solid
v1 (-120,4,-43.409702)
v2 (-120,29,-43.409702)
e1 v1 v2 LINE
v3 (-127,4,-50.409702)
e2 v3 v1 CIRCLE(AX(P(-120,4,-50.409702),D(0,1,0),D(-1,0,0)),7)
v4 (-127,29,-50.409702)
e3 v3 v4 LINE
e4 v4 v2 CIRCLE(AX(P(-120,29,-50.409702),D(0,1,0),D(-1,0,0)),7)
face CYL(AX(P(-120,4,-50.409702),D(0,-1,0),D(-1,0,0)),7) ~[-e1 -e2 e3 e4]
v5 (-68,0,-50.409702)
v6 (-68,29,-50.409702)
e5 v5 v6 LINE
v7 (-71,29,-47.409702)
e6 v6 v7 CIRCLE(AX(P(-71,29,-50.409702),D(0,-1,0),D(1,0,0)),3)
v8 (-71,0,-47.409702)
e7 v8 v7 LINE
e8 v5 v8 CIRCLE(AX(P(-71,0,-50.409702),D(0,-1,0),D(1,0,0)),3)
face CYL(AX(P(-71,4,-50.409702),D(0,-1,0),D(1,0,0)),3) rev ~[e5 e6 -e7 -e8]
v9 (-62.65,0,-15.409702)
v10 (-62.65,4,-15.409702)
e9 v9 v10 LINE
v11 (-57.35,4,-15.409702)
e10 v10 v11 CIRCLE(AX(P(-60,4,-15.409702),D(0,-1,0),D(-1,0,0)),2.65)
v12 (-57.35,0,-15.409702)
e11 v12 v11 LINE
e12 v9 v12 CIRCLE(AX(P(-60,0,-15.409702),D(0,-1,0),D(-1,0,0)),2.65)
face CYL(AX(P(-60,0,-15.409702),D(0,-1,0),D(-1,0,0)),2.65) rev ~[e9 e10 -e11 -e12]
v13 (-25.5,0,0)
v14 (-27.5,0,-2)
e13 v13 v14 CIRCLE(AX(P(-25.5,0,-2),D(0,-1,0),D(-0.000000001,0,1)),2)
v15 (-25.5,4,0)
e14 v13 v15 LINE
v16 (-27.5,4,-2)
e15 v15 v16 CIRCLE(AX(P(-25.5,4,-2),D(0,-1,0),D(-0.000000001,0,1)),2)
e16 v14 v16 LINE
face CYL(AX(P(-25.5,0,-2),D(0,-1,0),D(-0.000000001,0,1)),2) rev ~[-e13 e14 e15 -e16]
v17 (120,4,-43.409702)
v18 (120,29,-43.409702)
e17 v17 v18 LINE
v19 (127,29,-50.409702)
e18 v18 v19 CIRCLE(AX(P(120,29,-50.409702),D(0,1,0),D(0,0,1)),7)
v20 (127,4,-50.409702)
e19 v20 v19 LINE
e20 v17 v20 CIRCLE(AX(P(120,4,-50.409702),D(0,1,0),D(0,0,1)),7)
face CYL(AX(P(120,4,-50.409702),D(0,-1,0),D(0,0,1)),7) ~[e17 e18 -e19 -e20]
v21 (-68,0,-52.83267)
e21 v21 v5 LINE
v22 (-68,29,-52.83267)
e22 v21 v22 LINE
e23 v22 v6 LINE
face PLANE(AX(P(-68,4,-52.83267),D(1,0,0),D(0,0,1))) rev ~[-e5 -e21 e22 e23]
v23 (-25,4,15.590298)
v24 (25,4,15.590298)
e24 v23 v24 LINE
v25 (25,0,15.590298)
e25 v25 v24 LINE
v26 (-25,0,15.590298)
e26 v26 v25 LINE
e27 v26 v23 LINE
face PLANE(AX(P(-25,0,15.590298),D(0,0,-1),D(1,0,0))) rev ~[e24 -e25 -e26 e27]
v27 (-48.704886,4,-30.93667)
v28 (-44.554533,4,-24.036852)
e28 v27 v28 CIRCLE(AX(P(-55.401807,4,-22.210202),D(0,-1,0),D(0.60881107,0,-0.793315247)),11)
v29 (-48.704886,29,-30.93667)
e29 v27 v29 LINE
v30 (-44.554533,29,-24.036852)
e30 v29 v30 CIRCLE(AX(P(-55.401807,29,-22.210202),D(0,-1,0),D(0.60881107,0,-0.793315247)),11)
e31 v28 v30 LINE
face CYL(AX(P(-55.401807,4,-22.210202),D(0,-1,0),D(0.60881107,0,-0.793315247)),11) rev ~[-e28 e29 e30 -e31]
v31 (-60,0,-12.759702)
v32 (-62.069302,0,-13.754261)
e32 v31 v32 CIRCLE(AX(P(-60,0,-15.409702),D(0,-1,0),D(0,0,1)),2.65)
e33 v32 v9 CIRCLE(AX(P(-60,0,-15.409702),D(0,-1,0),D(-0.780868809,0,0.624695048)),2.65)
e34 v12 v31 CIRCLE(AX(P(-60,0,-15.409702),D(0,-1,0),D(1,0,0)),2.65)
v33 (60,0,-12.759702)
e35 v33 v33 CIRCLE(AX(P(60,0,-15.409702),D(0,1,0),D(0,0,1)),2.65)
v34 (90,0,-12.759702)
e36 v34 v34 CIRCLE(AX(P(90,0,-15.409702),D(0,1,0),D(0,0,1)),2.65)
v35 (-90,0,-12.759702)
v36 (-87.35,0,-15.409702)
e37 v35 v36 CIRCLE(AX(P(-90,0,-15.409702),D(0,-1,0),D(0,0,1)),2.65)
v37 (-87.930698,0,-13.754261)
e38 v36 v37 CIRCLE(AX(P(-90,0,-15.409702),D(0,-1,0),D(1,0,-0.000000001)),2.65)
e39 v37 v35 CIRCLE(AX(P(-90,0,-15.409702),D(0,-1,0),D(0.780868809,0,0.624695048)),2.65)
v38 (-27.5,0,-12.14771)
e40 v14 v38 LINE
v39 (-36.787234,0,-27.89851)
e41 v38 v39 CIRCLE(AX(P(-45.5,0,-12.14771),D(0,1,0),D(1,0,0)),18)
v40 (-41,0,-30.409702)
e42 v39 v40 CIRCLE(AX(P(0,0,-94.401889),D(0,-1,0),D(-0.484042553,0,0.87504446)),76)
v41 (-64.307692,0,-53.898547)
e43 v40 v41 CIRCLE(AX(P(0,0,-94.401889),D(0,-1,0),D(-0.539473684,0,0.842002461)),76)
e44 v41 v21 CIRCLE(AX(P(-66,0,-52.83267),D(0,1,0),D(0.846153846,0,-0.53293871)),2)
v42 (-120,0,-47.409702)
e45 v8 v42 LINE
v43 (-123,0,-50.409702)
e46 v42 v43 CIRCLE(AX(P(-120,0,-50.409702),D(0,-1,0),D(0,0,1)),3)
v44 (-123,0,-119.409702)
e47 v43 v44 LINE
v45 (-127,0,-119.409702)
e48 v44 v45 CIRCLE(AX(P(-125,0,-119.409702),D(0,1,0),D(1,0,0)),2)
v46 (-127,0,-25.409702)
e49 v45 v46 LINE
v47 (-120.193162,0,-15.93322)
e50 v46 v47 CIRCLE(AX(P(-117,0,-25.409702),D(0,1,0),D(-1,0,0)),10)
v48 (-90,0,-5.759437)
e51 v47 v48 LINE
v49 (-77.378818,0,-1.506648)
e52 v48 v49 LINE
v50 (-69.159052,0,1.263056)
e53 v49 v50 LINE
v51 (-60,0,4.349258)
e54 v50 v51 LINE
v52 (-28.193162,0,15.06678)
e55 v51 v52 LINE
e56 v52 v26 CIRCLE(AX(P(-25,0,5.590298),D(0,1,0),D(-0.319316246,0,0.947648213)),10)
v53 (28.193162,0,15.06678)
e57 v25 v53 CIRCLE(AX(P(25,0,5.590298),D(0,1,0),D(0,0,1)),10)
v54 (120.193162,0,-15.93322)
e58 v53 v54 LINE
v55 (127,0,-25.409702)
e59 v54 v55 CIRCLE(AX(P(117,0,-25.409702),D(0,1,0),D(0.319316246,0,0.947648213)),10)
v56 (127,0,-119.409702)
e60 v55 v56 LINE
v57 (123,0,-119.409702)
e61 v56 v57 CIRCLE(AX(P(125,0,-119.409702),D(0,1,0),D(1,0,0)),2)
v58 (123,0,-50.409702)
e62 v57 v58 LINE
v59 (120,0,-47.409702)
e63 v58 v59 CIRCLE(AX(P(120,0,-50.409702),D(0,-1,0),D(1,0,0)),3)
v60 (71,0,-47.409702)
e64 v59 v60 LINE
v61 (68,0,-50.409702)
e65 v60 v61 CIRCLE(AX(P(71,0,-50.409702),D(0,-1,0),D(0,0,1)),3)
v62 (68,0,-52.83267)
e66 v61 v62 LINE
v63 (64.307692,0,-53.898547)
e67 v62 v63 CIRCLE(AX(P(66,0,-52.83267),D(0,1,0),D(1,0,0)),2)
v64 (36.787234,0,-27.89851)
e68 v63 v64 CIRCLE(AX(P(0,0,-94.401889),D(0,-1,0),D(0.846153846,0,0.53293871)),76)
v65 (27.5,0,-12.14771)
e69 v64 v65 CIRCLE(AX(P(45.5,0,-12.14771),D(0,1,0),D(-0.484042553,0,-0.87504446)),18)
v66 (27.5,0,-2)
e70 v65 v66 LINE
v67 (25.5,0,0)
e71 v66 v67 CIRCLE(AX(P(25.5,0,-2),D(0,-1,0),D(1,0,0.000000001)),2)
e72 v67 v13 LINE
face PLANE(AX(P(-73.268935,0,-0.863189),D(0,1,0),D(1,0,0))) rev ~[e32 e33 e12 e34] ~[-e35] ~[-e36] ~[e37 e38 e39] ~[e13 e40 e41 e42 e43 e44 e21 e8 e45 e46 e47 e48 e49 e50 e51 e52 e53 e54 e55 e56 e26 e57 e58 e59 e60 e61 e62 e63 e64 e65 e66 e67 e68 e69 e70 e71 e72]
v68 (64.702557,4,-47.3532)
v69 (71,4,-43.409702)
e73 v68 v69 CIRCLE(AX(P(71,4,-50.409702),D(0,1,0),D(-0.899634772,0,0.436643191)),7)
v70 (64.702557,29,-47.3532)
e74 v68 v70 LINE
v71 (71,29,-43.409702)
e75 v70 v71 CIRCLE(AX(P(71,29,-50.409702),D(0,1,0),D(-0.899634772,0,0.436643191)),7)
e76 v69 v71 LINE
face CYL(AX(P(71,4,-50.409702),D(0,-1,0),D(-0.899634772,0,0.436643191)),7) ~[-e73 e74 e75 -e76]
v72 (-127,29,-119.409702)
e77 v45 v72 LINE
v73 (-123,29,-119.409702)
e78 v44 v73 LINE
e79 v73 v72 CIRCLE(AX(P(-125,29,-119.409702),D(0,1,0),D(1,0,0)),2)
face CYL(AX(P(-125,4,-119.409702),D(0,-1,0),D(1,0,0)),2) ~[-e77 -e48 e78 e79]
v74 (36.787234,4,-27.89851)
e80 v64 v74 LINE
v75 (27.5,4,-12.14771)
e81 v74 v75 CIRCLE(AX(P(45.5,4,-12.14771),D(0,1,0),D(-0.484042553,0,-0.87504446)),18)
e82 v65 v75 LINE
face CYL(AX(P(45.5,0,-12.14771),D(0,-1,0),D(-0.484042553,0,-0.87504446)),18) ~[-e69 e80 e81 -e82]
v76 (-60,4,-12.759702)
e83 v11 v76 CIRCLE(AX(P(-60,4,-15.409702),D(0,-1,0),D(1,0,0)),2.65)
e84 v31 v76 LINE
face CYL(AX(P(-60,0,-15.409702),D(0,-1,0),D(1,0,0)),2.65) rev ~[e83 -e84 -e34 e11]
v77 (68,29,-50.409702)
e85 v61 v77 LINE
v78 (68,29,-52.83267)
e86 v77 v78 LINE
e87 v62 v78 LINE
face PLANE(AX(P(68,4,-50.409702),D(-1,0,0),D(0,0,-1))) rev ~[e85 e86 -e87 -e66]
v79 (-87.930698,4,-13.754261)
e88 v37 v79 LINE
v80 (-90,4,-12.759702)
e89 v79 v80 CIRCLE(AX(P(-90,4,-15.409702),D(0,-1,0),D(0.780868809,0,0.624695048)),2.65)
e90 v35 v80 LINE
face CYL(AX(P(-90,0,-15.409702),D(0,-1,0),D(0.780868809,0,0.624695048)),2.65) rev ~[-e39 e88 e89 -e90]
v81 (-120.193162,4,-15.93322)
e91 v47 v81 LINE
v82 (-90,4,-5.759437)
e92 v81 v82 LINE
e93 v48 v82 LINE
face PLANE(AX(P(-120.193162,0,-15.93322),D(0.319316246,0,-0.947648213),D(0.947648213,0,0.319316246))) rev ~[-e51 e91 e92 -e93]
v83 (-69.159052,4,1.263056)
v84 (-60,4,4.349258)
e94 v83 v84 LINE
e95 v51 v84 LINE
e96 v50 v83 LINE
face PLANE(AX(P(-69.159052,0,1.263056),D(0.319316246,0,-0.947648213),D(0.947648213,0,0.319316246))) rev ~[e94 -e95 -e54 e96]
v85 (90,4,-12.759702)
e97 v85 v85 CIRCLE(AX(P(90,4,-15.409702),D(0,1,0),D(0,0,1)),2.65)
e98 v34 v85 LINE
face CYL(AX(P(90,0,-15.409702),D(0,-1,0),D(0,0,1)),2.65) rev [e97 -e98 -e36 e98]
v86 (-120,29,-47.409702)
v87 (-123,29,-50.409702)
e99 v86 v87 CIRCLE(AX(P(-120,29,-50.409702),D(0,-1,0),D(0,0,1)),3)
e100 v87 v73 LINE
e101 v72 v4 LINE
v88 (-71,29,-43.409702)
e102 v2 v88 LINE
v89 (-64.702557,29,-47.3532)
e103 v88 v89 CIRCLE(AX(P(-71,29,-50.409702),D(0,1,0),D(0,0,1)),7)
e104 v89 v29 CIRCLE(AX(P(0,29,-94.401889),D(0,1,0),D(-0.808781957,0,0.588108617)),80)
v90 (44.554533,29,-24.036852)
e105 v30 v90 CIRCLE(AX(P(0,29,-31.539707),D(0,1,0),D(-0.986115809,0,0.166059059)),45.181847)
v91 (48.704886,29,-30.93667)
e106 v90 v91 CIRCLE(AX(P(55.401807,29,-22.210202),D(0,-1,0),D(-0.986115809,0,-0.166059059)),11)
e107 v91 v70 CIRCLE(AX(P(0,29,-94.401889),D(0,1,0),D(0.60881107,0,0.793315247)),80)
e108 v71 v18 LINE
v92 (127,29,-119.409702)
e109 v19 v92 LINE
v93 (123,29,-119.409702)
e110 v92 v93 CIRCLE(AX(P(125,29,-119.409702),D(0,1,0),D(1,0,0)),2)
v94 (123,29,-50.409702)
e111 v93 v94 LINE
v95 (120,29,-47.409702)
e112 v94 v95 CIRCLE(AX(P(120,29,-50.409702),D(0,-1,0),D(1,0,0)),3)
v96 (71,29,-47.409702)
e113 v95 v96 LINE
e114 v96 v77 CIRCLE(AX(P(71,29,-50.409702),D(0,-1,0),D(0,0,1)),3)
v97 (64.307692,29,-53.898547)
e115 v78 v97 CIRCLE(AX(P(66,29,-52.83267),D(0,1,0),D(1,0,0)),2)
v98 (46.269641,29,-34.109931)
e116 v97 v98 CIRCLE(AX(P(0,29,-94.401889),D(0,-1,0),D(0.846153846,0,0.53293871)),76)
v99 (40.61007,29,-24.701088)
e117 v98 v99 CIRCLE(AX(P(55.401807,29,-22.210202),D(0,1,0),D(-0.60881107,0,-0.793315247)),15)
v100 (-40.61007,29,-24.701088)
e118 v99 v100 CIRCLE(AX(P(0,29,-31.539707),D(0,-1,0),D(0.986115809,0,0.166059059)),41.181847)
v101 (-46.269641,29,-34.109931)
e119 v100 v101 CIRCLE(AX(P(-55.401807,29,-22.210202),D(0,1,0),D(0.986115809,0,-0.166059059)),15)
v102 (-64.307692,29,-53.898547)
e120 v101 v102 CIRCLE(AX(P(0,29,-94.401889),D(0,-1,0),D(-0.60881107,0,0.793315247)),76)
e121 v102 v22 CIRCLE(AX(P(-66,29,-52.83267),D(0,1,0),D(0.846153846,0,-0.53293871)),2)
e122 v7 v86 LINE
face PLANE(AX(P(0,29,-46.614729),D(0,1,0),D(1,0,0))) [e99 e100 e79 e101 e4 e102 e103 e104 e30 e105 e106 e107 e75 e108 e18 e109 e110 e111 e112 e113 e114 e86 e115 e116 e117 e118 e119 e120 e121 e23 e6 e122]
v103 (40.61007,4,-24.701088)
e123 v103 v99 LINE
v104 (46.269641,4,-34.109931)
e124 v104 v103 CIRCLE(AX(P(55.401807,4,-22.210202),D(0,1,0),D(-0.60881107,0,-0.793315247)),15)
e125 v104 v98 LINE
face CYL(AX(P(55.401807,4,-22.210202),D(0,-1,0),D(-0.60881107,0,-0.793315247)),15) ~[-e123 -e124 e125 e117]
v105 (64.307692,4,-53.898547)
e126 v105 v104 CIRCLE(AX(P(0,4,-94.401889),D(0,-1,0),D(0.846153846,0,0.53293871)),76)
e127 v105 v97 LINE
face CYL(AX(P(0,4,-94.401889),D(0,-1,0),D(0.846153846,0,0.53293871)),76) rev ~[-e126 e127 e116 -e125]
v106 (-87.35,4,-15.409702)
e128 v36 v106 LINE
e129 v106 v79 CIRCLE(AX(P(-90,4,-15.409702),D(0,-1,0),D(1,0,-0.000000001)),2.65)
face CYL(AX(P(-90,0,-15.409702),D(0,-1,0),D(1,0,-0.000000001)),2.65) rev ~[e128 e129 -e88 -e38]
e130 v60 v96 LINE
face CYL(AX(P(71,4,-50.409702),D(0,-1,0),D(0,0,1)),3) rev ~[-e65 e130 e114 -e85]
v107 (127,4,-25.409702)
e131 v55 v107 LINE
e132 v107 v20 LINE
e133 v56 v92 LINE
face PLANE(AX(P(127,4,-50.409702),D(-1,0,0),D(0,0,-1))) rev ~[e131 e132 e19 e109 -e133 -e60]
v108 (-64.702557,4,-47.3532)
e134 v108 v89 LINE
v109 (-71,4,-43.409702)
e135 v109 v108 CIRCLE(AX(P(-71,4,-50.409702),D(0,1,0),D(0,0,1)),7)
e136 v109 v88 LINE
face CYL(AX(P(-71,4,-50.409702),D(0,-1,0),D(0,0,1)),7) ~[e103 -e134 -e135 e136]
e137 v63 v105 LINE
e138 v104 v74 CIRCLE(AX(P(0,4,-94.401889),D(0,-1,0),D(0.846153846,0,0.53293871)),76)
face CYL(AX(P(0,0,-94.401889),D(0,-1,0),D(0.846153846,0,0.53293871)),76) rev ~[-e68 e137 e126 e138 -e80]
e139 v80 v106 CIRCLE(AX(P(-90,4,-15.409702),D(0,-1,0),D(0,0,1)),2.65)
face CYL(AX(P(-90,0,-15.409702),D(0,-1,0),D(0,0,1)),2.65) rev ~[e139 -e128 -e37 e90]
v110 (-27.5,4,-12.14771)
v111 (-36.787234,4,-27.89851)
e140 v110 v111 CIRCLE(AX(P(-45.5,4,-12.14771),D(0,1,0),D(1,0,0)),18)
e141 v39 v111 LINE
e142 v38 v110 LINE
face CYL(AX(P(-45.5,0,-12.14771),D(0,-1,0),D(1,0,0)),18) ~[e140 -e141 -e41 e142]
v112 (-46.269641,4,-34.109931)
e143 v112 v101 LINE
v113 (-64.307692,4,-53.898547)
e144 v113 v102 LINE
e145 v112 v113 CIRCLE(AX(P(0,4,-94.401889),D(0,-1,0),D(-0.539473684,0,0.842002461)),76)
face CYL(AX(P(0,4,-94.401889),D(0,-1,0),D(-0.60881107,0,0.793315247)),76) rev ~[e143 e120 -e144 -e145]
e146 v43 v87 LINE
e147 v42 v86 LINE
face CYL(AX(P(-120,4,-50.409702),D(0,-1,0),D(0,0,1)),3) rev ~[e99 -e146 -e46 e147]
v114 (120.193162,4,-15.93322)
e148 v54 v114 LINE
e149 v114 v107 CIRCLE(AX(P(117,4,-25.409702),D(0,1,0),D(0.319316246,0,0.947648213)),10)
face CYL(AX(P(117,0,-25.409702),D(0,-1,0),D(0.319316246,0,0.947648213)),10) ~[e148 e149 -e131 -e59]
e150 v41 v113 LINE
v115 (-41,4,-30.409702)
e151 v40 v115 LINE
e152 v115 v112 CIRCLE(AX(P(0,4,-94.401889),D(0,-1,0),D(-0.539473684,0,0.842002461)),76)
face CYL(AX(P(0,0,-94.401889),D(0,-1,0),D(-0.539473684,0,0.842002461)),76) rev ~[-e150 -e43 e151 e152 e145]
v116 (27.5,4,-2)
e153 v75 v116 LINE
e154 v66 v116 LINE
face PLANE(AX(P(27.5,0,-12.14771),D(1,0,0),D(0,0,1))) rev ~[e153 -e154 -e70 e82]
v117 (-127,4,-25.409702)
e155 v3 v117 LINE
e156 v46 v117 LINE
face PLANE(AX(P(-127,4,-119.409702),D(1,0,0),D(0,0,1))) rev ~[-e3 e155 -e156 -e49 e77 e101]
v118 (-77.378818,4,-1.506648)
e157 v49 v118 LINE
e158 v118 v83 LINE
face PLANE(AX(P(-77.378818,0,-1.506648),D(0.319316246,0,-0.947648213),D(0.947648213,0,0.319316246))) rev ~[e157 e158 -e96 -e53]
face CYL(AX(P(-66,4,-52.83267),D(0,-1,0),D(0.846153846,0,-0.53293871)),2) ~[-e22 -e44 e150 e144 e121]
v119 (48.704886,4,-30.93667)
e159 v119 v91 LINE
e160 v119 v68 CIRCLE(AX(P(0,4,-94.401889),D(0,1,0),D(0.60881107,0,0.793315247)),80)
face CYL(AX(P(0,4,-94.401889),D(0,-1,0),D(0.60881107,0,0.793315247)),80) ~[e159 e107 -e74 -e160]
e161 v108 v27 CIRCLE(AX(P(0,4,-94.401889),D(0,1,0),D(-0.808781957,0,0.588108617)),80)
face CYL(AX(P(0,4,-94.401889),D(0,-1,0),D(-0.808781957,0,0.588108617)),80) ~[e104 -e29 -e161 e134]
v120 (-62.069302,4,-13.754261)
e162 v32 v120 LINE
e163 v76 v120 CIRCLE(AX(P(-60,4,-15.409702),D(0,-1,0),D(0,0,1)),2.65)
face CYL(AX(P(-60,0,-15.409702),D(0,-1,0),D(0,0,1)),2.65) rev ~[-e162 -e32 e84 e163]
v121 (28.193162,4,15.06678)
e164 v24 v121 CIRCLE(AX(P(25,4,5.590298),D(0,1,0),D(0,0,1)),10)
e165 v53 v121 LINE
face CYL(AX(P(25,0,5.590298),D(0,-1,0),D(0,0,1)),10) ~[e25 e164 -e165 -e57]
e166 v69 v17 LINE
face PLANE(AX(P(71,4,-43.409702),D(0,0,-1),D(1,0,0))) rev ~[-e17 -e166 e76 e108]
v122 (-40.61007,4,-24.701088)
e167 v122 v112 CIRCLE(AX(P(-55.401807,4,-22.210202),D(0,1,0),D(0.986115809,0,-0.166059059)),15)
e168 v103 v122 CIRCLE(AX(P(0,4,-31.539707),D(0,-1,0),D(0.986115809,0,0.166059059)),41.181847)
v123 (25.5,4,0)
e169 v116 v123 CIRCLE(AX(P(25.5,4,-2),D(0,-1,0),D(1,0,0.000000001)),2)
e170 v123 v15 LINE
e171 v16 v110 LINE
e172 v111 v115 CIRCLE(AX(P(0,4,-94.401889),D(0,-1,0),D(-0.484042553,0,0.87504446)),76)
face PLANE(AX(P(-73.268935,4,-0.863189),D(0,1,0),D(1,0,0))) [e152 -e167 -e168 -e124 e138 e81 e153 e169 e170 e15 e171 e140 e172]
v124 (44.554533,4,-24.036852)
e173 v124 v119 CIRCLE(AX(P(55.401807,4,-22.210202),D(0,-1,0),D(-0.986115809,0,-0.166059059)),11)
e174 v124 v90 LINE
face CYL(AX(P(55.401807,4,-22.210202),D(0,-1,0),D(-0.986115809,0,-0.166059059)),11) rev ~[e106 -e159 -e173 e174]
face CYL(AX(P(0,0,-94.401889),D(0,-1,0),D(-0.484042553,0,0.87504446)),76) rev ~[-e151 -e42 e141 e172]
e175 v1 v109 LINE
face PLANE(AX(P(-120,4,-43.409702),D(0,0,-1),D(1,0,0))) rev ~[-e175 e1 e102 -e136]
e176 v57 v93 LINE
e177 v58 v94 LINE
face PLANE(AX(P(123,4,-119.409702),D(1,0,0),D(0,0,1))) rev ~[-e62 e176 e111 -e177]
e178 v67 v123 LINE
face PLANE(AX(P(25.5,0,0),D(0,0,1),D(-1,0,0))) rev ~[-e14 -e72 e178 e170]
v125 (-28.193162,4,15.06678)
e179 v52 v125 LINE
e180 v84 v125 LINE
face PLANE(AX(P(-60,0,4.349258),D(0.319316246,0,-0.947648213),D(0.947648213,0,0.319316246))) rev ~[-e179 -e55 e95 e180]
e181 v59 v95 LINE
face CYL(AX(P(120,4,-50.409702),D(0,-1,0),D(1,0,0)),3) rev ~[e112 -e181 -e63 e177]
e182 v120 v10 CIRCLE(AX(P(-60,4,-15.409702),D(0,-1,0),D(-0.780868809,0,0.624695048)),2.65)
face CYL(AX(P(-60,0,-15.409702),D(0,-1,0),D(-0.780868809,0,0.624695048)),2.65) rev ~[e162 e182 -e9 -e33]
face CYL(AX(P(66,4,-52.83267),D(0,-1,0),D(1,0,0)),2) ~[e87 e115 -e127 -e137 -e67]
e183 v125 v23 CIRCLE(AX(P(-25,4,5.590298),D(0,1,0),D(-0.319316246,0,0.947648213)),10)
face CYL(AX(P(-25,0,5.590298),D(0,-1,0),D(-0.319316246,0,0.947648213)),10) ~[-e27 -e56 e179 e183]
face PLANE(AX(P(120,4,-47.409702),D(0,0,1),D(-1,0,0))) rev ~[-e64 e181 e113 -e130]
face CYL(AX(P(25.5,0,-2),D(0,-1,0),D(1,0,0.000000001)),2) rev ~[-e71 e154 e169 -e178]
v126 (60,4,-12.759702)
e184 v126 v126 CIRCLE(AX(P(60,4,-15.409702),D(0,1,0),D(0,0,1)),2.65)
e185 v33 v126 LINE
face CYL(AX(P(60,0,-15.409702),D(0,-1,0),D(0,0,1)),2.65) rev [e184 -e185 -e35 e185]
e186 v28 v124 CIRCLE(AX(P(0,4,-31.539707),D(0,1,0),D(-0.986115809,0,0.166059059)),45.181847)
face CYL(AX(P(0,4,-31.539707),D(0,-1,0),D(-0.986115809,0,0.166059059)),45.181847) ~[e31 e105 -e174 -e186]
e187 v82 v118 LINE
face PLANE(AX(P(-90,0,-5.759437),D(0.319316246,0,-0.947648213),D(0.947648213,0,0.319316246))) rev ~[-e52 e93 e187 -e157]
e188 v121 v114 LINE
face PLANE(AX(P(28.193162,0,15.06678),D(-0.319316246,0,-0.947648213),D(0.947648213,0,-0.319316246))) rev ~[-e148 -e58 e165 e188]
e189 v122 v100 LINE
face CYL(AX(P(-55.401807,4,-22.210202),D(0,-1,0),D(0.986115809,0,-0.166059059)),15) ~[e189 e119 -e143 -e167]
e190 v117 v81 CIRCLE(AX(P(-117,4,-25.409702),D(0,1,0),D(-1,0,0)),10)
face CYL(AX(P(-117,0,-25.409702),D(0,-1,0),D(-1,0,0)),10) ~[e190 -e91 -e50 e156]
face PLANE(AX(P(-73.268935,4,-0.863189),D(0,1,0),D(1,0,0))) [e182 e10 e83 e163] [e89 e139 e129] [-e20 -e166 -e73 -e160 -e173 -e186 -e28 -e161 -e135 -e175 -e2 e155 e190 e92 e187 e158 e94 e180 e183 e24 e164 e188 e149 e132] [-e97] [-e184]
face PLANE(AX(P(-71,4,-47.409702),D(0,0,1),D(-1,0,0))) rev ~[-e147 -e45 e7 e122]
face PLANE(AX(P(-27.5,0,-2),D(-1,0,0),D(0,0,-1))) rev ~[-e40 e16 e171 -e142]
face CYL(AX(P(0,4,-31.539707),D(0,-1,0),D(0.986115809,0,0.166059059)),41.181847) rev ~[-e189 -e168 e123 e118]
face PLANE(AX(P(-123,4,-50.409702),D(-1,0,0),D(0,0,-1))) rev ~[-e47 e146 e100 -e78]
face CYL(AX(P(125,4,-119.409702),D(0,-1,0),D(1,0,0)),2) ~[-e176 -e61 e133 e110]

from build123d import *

# Parameters (mm, degrees)
SKETCH_2_R      = 2.65
EXTRUDE_1_DEPTH = 4
EXTRUDE_2_DEPTH = 25


with BuildPart() as part:
    # 草图2 → 凸台-拉伸1 (new body)
    # profile 1 of 5: a face of its own
    with BuildSketch(Plane(origin=(0, 0, 0), x_dir=(1, 0, 0), z_dir=(0, 1, 0))):
        with BuildLine():
            Line((-27.5, 2), (-27.5, 12.147710197))
            ThreePointArc((-27.5, 12.147710197), (-29.994681763, 21.290199266), (-36.787234043, 27.898510474))
            ThreePointArc((-36.787234043, 27.898510474), (-38.913878838, 29.12011529), (-41, 30.409702399))
            ThreePointArc((-41, 30.409702399), (-53.947743005, 40.870206984), (-64.307692308, 53.898547461))
            ThreePointArc((-64.307692308, 53.898547461), (-66.554700196, 54.754207886), (-68, 52.832670041))
            Line((-68, 52.832670041), (-68, 50.409702399))
            ThreePointArc((-68, 50.409702399), (-68.878679656, 48.288382056), (-71, 47.409702399))
            Line((-71, 47.409702399), (-120, 47.409702399))
            ThreePointArc((-120, 47.409702399), (-122.121320344, 48.288382056), (-123, 50.409702399))
            Line((-123, 50.409702399), (-123, 119.409702399))
            ThreePointArc((-123, 119.409702399), (-125, 121.409702399), (-127, 119.409702399))
            Line((-127, 119.409702399), (-127, 25.409702399))
            ThreePointArc((-127, 25.409702399), (-125.121934023, 19.575819668), (-120.193162456, 15.933220271))
            Line((-120.193162456, 15.933220271), (-90, 5.759437269))
            Line((-90, 5.759437269), (-90, 12.759702399))
            ThreePointArc((-90, 12.759702399), (-91.87383297, 17.283535369), (-87.35, 15.409702399))
            Line((-87.35, 15.409702399), (-62.65, 15.409702399))
            ThreePointArc((-62.65, 15.409702399), (-60, 18.059702399), (-57.35, 15.409702399))
            ThreePointArc((-57.35, 15.409702399), (-58.12616703, 13.535869429), (-60, 12.759702399))
            Line((-60, 12.759702399), (-60, -4.349258383))
            Line((-60, -4.349258383), (-28.193162456, -15.066779729))
            ThreePointArc((-28.193162456, -15.066779729), (-26.617896585, -15.458550265), (-25, -15.590297601))
            Line((-25, -15.590297601), (25, -15.590297601))
            ThreePointArc((25, -15.590297601), (26.617896585, -15.458550265), (28.193162456, -15.066779729))
            Line((28.193162456, -15.066779729), (120.193162456, 15.933220271))
            ThreePointArc((120.193162456, 15.933220271), (125.121934023, 19.575819668), (127, 25.409702399))
            Line((127, 25.409702399), (127, 119.409702399))
            ThreePointArc((127, 119.409702399), (125, 121.409702399), (123, 119.409702399))
            Line((123, 119.409702399), (123, 50.409702399))
            ThreePointArc((123, 50.409702399), (122.121320344, 48.288382056), (120, 47.409702399))
            Line((120, 47.409702399), (71, 47.409702399))
            ThreePointArc((71, 47.409702399), (68.878679656, 48.288382056), (68, 50.409702399))
            Line((68, 50.409702399), (68, 52.832670041))
            ThreePointArc((68, 52.832670041), (66.554700196, 54.754207886), (64.307692308, 53.898547461))
            ThreePointArc((64.307692308, 53.898547461), (52.192399009, 39.157401138), (36.787234043, 27.898510474))
            ThreePointArc((36.787234043, 27.898510474), (29.994681763, 21.290199266), (27.5, 12.147710197))
            Line((27.5, 12.147710197), (27.5, 2))
            ThreePointArc((27.5, 2), (26.914213562, 0.585786438), (25.5, 0))
            Line((25.5, 0), (-25.5, 0))
            ThreePointArc((-25.5, 0), (-26.914213562, 0.585786438), (-27.5, 2))
        make_face()
        with Locations(Location((60, 15.409702399, 0), (0, 0, 270))):
            Circle(SKETCH_2_R, mode=Mode.SUBTRACT)
        with Locations(Location((90, 15.409702399, 0), (0, 0, 270))):
            Circle(SKETCH_2_R, mode=Mode.SUBTRACT)
    # profile 2 of 5: a face of its own
    with BuildSketch(Plane(origin=(0, 0, 0), x_dir=(1, 0, 0), z_dir=(0, 1, 0))):
        with BuildLine():
            Line((-90, 12.759702399), (-90, 5.759437269))
            Line((-90, 5.759437269), (-77.378818279, 1.506647776))
            Line((-77.378818279, 1.506647776), (-75, 3.409702399))
            Line((-75, 3.409702399), (-87.930697655, 13.754260523))
            ThreePointArc((-87.930697655, 13.754260523), (-88.852049864, 13.021248823), (-90, 12.759702399))
        make_face()
    # profile 3 of 5: a face of its own
    with BuildSketch(Plane(origin=(0, 0, 0), x_dir=(1, 0, 0), z_dir=(0, 1, 0))):
        with BuildLine():
            Line((-87.930697655, 13.754260523), (-75, 3.409702399))
            Line((-75, 3.409702399), (-62.069302345, 13.754260523))
            ThreePointArc((-62.069302345, 13.754260523), (-62.500615046, 14.532534004), (-62.65, 15.409702399))
            Line((-62.65, 15.409702399), (-87.35, 15.409702399))
            ThreePointArc((-87.35, 15.409702399), (-87.499384954, 14.532534004), (-87.930697655, 13.754260523))
        make_face()
    # profile 4 of 5: a face of its own
    with BuildSketch(Plane(origin=(0, 0, 0), x_dir=(1, 0, 0), z_dir=(0, 1, 0))):
        with BuildLine():
            Line((-75, 3.409702399), (-69.159051832, -1.263056135))
            Line((-69.159051832, -1.263056135), (-60, -4.349258383))
            Line((-60, -4.349258383), (-60, 12.759702399))
            ThreePointArc((-60, 12.759702399), (-61.147950136, 13.021248823), (-62.069302345, 13.754260523))
            Line((-62.069302345, 13.754260523), (-75, 3.409702399))
        make_face()
    # profile 5 of 5: a face of its own
    with BuildSketch(Plane(origin=(0, 0, 0), x_dir=(1, 0, 0), z_dir=(0, 1, 0))):
        Polygon((-75, 3.409702399), (-77.378818279, 1.506647776), (-69.159051832, -1.263056135), align=None)
    extrude(amount=EXTRUDE_1_DEPTH)

    # 草图3 → 凸台-拉伸2 (add)
    with BuildSketch(Plane(origin=(0, 4, 0), x_dir=(1, 0, 0), z_dir=(0, 1, 0))):
        with BuildLine():
            Line((127, 50.409702399), (127, 115.409702399))
            Line((127, 115.409702399), (127, 119.409702399))
            ThreePointArc((127, 119.409702399), (125, 121.409702399), (123, 119.409702399))
            Line((123, 119.409702399), (123, 50.409702399))
            ThreePointArc((123, 50.409702399), (122.121320344, 48.288382056), (120, 47.409702399))
            Line((120, 47.409702399), (71, 47.409702399))
            ThreePointArc((71, 47.409702399), (68.878679656, 48.288382056), (68, 50.409702399))
            Line((68, 50.409702399), (68, 52.832670041))
            ThreePointArc((68, 52.832670041), (66.554700196, 54.754207886), (64.307692308, 53.898547461))
            ThreePointArc((64.307692308, 53.898547461), (56.167018952, 43.203588844), (46.269641343, 34.109930672))
            ThreePointArc((46.269641343, 34.109930672), (42.548019366, 29.9419633), (40.610070261, 24.701087856))
            ThreePointArc((40.610070261, 24.701087856), (0, -9.642140289), (-40.610070261, 24.701087856))
            ThreePointArc((-40.610070261, 24.701087856), (-42.548019366, 29.9419633), (-46.269641343, 34.109930672))
            ThreePointArc((-46.269641343, 34.109930672), (-56.167018952, 43.203588844), (-64.307692308, 53.898547461))
            ThreePointArc((-64.307692308, 53.898547461), (-66.554700196, 54.754207886), (-68, 52.832670041))
            Line((-68, 52.832670041), (-68, 50.409702399))
            ThreePointArc((-68, 50.409702399), (-68.878679656, 48.288382056), (-71, 47.409702399))
            Line((-71, 47.409702399), (-120, 47.409702399))
            ThreePointArc((-120, 47.409702399), (-122.121320344, 48.288382056), (-123, 50.409702399))
            Line((-123, 50.409702399), (-123, 119.409702399))
            ThreePointArc((-123, 119.409702399), (-125, 121.409702399), (-127, 119.409702399))
            Line((-127, 119.409702399), (-127, 115.409702399))
            Line((-127, 115.409702399), (-127, 50.409702399))
            ThreePointArc((-127, 50.409702399), (-124.949747468, 45.459954931), (-120, 43.409702399))
            Line((-120, 43.409702399), (-71, 43.409702399))
            ThreePointArc((-71, 43.409702399), (-67.284863149, 44.476932542), (-64.702556592, 47.353200063))
            ThreePointArc((-64.702556592, 47.353200063), (-57.294743258, 38.568992354), (-48.704885624, 30.936669685))
            ThreePointArc((-48.704885624, 30.936669685), (-45.975696175, 27.880160279), (-44.554533498, 24.03685162))
            ThreePointArc((-44.554533498, 24.03685162), (0, -13.642140289), (44.554533498, 24.03685162))
            ThreePointArc((44.554533498, 24.03685162), (45.975696175, 27.880160279), (48.704885624, 30.936669685))
            ThreePointArc((48.704885624, 30.936669685), (57.294743258, 38.568992354), (64.702556592, 47.353200063))
            ThreePointArc((64.702556592, 47.353200063), (67.284863149, 44.476932542), (71, 43.409702399))
            Line((71, 43.409702399), (120, 43.409702399))
            ThreePointArc((120, 43.409702399), (124.949747468, 45.459954931), (127, 50.409702399))
        make_face()
    extrude(amount=EXTRUDE_2_DEPTH)


solid = part.part
